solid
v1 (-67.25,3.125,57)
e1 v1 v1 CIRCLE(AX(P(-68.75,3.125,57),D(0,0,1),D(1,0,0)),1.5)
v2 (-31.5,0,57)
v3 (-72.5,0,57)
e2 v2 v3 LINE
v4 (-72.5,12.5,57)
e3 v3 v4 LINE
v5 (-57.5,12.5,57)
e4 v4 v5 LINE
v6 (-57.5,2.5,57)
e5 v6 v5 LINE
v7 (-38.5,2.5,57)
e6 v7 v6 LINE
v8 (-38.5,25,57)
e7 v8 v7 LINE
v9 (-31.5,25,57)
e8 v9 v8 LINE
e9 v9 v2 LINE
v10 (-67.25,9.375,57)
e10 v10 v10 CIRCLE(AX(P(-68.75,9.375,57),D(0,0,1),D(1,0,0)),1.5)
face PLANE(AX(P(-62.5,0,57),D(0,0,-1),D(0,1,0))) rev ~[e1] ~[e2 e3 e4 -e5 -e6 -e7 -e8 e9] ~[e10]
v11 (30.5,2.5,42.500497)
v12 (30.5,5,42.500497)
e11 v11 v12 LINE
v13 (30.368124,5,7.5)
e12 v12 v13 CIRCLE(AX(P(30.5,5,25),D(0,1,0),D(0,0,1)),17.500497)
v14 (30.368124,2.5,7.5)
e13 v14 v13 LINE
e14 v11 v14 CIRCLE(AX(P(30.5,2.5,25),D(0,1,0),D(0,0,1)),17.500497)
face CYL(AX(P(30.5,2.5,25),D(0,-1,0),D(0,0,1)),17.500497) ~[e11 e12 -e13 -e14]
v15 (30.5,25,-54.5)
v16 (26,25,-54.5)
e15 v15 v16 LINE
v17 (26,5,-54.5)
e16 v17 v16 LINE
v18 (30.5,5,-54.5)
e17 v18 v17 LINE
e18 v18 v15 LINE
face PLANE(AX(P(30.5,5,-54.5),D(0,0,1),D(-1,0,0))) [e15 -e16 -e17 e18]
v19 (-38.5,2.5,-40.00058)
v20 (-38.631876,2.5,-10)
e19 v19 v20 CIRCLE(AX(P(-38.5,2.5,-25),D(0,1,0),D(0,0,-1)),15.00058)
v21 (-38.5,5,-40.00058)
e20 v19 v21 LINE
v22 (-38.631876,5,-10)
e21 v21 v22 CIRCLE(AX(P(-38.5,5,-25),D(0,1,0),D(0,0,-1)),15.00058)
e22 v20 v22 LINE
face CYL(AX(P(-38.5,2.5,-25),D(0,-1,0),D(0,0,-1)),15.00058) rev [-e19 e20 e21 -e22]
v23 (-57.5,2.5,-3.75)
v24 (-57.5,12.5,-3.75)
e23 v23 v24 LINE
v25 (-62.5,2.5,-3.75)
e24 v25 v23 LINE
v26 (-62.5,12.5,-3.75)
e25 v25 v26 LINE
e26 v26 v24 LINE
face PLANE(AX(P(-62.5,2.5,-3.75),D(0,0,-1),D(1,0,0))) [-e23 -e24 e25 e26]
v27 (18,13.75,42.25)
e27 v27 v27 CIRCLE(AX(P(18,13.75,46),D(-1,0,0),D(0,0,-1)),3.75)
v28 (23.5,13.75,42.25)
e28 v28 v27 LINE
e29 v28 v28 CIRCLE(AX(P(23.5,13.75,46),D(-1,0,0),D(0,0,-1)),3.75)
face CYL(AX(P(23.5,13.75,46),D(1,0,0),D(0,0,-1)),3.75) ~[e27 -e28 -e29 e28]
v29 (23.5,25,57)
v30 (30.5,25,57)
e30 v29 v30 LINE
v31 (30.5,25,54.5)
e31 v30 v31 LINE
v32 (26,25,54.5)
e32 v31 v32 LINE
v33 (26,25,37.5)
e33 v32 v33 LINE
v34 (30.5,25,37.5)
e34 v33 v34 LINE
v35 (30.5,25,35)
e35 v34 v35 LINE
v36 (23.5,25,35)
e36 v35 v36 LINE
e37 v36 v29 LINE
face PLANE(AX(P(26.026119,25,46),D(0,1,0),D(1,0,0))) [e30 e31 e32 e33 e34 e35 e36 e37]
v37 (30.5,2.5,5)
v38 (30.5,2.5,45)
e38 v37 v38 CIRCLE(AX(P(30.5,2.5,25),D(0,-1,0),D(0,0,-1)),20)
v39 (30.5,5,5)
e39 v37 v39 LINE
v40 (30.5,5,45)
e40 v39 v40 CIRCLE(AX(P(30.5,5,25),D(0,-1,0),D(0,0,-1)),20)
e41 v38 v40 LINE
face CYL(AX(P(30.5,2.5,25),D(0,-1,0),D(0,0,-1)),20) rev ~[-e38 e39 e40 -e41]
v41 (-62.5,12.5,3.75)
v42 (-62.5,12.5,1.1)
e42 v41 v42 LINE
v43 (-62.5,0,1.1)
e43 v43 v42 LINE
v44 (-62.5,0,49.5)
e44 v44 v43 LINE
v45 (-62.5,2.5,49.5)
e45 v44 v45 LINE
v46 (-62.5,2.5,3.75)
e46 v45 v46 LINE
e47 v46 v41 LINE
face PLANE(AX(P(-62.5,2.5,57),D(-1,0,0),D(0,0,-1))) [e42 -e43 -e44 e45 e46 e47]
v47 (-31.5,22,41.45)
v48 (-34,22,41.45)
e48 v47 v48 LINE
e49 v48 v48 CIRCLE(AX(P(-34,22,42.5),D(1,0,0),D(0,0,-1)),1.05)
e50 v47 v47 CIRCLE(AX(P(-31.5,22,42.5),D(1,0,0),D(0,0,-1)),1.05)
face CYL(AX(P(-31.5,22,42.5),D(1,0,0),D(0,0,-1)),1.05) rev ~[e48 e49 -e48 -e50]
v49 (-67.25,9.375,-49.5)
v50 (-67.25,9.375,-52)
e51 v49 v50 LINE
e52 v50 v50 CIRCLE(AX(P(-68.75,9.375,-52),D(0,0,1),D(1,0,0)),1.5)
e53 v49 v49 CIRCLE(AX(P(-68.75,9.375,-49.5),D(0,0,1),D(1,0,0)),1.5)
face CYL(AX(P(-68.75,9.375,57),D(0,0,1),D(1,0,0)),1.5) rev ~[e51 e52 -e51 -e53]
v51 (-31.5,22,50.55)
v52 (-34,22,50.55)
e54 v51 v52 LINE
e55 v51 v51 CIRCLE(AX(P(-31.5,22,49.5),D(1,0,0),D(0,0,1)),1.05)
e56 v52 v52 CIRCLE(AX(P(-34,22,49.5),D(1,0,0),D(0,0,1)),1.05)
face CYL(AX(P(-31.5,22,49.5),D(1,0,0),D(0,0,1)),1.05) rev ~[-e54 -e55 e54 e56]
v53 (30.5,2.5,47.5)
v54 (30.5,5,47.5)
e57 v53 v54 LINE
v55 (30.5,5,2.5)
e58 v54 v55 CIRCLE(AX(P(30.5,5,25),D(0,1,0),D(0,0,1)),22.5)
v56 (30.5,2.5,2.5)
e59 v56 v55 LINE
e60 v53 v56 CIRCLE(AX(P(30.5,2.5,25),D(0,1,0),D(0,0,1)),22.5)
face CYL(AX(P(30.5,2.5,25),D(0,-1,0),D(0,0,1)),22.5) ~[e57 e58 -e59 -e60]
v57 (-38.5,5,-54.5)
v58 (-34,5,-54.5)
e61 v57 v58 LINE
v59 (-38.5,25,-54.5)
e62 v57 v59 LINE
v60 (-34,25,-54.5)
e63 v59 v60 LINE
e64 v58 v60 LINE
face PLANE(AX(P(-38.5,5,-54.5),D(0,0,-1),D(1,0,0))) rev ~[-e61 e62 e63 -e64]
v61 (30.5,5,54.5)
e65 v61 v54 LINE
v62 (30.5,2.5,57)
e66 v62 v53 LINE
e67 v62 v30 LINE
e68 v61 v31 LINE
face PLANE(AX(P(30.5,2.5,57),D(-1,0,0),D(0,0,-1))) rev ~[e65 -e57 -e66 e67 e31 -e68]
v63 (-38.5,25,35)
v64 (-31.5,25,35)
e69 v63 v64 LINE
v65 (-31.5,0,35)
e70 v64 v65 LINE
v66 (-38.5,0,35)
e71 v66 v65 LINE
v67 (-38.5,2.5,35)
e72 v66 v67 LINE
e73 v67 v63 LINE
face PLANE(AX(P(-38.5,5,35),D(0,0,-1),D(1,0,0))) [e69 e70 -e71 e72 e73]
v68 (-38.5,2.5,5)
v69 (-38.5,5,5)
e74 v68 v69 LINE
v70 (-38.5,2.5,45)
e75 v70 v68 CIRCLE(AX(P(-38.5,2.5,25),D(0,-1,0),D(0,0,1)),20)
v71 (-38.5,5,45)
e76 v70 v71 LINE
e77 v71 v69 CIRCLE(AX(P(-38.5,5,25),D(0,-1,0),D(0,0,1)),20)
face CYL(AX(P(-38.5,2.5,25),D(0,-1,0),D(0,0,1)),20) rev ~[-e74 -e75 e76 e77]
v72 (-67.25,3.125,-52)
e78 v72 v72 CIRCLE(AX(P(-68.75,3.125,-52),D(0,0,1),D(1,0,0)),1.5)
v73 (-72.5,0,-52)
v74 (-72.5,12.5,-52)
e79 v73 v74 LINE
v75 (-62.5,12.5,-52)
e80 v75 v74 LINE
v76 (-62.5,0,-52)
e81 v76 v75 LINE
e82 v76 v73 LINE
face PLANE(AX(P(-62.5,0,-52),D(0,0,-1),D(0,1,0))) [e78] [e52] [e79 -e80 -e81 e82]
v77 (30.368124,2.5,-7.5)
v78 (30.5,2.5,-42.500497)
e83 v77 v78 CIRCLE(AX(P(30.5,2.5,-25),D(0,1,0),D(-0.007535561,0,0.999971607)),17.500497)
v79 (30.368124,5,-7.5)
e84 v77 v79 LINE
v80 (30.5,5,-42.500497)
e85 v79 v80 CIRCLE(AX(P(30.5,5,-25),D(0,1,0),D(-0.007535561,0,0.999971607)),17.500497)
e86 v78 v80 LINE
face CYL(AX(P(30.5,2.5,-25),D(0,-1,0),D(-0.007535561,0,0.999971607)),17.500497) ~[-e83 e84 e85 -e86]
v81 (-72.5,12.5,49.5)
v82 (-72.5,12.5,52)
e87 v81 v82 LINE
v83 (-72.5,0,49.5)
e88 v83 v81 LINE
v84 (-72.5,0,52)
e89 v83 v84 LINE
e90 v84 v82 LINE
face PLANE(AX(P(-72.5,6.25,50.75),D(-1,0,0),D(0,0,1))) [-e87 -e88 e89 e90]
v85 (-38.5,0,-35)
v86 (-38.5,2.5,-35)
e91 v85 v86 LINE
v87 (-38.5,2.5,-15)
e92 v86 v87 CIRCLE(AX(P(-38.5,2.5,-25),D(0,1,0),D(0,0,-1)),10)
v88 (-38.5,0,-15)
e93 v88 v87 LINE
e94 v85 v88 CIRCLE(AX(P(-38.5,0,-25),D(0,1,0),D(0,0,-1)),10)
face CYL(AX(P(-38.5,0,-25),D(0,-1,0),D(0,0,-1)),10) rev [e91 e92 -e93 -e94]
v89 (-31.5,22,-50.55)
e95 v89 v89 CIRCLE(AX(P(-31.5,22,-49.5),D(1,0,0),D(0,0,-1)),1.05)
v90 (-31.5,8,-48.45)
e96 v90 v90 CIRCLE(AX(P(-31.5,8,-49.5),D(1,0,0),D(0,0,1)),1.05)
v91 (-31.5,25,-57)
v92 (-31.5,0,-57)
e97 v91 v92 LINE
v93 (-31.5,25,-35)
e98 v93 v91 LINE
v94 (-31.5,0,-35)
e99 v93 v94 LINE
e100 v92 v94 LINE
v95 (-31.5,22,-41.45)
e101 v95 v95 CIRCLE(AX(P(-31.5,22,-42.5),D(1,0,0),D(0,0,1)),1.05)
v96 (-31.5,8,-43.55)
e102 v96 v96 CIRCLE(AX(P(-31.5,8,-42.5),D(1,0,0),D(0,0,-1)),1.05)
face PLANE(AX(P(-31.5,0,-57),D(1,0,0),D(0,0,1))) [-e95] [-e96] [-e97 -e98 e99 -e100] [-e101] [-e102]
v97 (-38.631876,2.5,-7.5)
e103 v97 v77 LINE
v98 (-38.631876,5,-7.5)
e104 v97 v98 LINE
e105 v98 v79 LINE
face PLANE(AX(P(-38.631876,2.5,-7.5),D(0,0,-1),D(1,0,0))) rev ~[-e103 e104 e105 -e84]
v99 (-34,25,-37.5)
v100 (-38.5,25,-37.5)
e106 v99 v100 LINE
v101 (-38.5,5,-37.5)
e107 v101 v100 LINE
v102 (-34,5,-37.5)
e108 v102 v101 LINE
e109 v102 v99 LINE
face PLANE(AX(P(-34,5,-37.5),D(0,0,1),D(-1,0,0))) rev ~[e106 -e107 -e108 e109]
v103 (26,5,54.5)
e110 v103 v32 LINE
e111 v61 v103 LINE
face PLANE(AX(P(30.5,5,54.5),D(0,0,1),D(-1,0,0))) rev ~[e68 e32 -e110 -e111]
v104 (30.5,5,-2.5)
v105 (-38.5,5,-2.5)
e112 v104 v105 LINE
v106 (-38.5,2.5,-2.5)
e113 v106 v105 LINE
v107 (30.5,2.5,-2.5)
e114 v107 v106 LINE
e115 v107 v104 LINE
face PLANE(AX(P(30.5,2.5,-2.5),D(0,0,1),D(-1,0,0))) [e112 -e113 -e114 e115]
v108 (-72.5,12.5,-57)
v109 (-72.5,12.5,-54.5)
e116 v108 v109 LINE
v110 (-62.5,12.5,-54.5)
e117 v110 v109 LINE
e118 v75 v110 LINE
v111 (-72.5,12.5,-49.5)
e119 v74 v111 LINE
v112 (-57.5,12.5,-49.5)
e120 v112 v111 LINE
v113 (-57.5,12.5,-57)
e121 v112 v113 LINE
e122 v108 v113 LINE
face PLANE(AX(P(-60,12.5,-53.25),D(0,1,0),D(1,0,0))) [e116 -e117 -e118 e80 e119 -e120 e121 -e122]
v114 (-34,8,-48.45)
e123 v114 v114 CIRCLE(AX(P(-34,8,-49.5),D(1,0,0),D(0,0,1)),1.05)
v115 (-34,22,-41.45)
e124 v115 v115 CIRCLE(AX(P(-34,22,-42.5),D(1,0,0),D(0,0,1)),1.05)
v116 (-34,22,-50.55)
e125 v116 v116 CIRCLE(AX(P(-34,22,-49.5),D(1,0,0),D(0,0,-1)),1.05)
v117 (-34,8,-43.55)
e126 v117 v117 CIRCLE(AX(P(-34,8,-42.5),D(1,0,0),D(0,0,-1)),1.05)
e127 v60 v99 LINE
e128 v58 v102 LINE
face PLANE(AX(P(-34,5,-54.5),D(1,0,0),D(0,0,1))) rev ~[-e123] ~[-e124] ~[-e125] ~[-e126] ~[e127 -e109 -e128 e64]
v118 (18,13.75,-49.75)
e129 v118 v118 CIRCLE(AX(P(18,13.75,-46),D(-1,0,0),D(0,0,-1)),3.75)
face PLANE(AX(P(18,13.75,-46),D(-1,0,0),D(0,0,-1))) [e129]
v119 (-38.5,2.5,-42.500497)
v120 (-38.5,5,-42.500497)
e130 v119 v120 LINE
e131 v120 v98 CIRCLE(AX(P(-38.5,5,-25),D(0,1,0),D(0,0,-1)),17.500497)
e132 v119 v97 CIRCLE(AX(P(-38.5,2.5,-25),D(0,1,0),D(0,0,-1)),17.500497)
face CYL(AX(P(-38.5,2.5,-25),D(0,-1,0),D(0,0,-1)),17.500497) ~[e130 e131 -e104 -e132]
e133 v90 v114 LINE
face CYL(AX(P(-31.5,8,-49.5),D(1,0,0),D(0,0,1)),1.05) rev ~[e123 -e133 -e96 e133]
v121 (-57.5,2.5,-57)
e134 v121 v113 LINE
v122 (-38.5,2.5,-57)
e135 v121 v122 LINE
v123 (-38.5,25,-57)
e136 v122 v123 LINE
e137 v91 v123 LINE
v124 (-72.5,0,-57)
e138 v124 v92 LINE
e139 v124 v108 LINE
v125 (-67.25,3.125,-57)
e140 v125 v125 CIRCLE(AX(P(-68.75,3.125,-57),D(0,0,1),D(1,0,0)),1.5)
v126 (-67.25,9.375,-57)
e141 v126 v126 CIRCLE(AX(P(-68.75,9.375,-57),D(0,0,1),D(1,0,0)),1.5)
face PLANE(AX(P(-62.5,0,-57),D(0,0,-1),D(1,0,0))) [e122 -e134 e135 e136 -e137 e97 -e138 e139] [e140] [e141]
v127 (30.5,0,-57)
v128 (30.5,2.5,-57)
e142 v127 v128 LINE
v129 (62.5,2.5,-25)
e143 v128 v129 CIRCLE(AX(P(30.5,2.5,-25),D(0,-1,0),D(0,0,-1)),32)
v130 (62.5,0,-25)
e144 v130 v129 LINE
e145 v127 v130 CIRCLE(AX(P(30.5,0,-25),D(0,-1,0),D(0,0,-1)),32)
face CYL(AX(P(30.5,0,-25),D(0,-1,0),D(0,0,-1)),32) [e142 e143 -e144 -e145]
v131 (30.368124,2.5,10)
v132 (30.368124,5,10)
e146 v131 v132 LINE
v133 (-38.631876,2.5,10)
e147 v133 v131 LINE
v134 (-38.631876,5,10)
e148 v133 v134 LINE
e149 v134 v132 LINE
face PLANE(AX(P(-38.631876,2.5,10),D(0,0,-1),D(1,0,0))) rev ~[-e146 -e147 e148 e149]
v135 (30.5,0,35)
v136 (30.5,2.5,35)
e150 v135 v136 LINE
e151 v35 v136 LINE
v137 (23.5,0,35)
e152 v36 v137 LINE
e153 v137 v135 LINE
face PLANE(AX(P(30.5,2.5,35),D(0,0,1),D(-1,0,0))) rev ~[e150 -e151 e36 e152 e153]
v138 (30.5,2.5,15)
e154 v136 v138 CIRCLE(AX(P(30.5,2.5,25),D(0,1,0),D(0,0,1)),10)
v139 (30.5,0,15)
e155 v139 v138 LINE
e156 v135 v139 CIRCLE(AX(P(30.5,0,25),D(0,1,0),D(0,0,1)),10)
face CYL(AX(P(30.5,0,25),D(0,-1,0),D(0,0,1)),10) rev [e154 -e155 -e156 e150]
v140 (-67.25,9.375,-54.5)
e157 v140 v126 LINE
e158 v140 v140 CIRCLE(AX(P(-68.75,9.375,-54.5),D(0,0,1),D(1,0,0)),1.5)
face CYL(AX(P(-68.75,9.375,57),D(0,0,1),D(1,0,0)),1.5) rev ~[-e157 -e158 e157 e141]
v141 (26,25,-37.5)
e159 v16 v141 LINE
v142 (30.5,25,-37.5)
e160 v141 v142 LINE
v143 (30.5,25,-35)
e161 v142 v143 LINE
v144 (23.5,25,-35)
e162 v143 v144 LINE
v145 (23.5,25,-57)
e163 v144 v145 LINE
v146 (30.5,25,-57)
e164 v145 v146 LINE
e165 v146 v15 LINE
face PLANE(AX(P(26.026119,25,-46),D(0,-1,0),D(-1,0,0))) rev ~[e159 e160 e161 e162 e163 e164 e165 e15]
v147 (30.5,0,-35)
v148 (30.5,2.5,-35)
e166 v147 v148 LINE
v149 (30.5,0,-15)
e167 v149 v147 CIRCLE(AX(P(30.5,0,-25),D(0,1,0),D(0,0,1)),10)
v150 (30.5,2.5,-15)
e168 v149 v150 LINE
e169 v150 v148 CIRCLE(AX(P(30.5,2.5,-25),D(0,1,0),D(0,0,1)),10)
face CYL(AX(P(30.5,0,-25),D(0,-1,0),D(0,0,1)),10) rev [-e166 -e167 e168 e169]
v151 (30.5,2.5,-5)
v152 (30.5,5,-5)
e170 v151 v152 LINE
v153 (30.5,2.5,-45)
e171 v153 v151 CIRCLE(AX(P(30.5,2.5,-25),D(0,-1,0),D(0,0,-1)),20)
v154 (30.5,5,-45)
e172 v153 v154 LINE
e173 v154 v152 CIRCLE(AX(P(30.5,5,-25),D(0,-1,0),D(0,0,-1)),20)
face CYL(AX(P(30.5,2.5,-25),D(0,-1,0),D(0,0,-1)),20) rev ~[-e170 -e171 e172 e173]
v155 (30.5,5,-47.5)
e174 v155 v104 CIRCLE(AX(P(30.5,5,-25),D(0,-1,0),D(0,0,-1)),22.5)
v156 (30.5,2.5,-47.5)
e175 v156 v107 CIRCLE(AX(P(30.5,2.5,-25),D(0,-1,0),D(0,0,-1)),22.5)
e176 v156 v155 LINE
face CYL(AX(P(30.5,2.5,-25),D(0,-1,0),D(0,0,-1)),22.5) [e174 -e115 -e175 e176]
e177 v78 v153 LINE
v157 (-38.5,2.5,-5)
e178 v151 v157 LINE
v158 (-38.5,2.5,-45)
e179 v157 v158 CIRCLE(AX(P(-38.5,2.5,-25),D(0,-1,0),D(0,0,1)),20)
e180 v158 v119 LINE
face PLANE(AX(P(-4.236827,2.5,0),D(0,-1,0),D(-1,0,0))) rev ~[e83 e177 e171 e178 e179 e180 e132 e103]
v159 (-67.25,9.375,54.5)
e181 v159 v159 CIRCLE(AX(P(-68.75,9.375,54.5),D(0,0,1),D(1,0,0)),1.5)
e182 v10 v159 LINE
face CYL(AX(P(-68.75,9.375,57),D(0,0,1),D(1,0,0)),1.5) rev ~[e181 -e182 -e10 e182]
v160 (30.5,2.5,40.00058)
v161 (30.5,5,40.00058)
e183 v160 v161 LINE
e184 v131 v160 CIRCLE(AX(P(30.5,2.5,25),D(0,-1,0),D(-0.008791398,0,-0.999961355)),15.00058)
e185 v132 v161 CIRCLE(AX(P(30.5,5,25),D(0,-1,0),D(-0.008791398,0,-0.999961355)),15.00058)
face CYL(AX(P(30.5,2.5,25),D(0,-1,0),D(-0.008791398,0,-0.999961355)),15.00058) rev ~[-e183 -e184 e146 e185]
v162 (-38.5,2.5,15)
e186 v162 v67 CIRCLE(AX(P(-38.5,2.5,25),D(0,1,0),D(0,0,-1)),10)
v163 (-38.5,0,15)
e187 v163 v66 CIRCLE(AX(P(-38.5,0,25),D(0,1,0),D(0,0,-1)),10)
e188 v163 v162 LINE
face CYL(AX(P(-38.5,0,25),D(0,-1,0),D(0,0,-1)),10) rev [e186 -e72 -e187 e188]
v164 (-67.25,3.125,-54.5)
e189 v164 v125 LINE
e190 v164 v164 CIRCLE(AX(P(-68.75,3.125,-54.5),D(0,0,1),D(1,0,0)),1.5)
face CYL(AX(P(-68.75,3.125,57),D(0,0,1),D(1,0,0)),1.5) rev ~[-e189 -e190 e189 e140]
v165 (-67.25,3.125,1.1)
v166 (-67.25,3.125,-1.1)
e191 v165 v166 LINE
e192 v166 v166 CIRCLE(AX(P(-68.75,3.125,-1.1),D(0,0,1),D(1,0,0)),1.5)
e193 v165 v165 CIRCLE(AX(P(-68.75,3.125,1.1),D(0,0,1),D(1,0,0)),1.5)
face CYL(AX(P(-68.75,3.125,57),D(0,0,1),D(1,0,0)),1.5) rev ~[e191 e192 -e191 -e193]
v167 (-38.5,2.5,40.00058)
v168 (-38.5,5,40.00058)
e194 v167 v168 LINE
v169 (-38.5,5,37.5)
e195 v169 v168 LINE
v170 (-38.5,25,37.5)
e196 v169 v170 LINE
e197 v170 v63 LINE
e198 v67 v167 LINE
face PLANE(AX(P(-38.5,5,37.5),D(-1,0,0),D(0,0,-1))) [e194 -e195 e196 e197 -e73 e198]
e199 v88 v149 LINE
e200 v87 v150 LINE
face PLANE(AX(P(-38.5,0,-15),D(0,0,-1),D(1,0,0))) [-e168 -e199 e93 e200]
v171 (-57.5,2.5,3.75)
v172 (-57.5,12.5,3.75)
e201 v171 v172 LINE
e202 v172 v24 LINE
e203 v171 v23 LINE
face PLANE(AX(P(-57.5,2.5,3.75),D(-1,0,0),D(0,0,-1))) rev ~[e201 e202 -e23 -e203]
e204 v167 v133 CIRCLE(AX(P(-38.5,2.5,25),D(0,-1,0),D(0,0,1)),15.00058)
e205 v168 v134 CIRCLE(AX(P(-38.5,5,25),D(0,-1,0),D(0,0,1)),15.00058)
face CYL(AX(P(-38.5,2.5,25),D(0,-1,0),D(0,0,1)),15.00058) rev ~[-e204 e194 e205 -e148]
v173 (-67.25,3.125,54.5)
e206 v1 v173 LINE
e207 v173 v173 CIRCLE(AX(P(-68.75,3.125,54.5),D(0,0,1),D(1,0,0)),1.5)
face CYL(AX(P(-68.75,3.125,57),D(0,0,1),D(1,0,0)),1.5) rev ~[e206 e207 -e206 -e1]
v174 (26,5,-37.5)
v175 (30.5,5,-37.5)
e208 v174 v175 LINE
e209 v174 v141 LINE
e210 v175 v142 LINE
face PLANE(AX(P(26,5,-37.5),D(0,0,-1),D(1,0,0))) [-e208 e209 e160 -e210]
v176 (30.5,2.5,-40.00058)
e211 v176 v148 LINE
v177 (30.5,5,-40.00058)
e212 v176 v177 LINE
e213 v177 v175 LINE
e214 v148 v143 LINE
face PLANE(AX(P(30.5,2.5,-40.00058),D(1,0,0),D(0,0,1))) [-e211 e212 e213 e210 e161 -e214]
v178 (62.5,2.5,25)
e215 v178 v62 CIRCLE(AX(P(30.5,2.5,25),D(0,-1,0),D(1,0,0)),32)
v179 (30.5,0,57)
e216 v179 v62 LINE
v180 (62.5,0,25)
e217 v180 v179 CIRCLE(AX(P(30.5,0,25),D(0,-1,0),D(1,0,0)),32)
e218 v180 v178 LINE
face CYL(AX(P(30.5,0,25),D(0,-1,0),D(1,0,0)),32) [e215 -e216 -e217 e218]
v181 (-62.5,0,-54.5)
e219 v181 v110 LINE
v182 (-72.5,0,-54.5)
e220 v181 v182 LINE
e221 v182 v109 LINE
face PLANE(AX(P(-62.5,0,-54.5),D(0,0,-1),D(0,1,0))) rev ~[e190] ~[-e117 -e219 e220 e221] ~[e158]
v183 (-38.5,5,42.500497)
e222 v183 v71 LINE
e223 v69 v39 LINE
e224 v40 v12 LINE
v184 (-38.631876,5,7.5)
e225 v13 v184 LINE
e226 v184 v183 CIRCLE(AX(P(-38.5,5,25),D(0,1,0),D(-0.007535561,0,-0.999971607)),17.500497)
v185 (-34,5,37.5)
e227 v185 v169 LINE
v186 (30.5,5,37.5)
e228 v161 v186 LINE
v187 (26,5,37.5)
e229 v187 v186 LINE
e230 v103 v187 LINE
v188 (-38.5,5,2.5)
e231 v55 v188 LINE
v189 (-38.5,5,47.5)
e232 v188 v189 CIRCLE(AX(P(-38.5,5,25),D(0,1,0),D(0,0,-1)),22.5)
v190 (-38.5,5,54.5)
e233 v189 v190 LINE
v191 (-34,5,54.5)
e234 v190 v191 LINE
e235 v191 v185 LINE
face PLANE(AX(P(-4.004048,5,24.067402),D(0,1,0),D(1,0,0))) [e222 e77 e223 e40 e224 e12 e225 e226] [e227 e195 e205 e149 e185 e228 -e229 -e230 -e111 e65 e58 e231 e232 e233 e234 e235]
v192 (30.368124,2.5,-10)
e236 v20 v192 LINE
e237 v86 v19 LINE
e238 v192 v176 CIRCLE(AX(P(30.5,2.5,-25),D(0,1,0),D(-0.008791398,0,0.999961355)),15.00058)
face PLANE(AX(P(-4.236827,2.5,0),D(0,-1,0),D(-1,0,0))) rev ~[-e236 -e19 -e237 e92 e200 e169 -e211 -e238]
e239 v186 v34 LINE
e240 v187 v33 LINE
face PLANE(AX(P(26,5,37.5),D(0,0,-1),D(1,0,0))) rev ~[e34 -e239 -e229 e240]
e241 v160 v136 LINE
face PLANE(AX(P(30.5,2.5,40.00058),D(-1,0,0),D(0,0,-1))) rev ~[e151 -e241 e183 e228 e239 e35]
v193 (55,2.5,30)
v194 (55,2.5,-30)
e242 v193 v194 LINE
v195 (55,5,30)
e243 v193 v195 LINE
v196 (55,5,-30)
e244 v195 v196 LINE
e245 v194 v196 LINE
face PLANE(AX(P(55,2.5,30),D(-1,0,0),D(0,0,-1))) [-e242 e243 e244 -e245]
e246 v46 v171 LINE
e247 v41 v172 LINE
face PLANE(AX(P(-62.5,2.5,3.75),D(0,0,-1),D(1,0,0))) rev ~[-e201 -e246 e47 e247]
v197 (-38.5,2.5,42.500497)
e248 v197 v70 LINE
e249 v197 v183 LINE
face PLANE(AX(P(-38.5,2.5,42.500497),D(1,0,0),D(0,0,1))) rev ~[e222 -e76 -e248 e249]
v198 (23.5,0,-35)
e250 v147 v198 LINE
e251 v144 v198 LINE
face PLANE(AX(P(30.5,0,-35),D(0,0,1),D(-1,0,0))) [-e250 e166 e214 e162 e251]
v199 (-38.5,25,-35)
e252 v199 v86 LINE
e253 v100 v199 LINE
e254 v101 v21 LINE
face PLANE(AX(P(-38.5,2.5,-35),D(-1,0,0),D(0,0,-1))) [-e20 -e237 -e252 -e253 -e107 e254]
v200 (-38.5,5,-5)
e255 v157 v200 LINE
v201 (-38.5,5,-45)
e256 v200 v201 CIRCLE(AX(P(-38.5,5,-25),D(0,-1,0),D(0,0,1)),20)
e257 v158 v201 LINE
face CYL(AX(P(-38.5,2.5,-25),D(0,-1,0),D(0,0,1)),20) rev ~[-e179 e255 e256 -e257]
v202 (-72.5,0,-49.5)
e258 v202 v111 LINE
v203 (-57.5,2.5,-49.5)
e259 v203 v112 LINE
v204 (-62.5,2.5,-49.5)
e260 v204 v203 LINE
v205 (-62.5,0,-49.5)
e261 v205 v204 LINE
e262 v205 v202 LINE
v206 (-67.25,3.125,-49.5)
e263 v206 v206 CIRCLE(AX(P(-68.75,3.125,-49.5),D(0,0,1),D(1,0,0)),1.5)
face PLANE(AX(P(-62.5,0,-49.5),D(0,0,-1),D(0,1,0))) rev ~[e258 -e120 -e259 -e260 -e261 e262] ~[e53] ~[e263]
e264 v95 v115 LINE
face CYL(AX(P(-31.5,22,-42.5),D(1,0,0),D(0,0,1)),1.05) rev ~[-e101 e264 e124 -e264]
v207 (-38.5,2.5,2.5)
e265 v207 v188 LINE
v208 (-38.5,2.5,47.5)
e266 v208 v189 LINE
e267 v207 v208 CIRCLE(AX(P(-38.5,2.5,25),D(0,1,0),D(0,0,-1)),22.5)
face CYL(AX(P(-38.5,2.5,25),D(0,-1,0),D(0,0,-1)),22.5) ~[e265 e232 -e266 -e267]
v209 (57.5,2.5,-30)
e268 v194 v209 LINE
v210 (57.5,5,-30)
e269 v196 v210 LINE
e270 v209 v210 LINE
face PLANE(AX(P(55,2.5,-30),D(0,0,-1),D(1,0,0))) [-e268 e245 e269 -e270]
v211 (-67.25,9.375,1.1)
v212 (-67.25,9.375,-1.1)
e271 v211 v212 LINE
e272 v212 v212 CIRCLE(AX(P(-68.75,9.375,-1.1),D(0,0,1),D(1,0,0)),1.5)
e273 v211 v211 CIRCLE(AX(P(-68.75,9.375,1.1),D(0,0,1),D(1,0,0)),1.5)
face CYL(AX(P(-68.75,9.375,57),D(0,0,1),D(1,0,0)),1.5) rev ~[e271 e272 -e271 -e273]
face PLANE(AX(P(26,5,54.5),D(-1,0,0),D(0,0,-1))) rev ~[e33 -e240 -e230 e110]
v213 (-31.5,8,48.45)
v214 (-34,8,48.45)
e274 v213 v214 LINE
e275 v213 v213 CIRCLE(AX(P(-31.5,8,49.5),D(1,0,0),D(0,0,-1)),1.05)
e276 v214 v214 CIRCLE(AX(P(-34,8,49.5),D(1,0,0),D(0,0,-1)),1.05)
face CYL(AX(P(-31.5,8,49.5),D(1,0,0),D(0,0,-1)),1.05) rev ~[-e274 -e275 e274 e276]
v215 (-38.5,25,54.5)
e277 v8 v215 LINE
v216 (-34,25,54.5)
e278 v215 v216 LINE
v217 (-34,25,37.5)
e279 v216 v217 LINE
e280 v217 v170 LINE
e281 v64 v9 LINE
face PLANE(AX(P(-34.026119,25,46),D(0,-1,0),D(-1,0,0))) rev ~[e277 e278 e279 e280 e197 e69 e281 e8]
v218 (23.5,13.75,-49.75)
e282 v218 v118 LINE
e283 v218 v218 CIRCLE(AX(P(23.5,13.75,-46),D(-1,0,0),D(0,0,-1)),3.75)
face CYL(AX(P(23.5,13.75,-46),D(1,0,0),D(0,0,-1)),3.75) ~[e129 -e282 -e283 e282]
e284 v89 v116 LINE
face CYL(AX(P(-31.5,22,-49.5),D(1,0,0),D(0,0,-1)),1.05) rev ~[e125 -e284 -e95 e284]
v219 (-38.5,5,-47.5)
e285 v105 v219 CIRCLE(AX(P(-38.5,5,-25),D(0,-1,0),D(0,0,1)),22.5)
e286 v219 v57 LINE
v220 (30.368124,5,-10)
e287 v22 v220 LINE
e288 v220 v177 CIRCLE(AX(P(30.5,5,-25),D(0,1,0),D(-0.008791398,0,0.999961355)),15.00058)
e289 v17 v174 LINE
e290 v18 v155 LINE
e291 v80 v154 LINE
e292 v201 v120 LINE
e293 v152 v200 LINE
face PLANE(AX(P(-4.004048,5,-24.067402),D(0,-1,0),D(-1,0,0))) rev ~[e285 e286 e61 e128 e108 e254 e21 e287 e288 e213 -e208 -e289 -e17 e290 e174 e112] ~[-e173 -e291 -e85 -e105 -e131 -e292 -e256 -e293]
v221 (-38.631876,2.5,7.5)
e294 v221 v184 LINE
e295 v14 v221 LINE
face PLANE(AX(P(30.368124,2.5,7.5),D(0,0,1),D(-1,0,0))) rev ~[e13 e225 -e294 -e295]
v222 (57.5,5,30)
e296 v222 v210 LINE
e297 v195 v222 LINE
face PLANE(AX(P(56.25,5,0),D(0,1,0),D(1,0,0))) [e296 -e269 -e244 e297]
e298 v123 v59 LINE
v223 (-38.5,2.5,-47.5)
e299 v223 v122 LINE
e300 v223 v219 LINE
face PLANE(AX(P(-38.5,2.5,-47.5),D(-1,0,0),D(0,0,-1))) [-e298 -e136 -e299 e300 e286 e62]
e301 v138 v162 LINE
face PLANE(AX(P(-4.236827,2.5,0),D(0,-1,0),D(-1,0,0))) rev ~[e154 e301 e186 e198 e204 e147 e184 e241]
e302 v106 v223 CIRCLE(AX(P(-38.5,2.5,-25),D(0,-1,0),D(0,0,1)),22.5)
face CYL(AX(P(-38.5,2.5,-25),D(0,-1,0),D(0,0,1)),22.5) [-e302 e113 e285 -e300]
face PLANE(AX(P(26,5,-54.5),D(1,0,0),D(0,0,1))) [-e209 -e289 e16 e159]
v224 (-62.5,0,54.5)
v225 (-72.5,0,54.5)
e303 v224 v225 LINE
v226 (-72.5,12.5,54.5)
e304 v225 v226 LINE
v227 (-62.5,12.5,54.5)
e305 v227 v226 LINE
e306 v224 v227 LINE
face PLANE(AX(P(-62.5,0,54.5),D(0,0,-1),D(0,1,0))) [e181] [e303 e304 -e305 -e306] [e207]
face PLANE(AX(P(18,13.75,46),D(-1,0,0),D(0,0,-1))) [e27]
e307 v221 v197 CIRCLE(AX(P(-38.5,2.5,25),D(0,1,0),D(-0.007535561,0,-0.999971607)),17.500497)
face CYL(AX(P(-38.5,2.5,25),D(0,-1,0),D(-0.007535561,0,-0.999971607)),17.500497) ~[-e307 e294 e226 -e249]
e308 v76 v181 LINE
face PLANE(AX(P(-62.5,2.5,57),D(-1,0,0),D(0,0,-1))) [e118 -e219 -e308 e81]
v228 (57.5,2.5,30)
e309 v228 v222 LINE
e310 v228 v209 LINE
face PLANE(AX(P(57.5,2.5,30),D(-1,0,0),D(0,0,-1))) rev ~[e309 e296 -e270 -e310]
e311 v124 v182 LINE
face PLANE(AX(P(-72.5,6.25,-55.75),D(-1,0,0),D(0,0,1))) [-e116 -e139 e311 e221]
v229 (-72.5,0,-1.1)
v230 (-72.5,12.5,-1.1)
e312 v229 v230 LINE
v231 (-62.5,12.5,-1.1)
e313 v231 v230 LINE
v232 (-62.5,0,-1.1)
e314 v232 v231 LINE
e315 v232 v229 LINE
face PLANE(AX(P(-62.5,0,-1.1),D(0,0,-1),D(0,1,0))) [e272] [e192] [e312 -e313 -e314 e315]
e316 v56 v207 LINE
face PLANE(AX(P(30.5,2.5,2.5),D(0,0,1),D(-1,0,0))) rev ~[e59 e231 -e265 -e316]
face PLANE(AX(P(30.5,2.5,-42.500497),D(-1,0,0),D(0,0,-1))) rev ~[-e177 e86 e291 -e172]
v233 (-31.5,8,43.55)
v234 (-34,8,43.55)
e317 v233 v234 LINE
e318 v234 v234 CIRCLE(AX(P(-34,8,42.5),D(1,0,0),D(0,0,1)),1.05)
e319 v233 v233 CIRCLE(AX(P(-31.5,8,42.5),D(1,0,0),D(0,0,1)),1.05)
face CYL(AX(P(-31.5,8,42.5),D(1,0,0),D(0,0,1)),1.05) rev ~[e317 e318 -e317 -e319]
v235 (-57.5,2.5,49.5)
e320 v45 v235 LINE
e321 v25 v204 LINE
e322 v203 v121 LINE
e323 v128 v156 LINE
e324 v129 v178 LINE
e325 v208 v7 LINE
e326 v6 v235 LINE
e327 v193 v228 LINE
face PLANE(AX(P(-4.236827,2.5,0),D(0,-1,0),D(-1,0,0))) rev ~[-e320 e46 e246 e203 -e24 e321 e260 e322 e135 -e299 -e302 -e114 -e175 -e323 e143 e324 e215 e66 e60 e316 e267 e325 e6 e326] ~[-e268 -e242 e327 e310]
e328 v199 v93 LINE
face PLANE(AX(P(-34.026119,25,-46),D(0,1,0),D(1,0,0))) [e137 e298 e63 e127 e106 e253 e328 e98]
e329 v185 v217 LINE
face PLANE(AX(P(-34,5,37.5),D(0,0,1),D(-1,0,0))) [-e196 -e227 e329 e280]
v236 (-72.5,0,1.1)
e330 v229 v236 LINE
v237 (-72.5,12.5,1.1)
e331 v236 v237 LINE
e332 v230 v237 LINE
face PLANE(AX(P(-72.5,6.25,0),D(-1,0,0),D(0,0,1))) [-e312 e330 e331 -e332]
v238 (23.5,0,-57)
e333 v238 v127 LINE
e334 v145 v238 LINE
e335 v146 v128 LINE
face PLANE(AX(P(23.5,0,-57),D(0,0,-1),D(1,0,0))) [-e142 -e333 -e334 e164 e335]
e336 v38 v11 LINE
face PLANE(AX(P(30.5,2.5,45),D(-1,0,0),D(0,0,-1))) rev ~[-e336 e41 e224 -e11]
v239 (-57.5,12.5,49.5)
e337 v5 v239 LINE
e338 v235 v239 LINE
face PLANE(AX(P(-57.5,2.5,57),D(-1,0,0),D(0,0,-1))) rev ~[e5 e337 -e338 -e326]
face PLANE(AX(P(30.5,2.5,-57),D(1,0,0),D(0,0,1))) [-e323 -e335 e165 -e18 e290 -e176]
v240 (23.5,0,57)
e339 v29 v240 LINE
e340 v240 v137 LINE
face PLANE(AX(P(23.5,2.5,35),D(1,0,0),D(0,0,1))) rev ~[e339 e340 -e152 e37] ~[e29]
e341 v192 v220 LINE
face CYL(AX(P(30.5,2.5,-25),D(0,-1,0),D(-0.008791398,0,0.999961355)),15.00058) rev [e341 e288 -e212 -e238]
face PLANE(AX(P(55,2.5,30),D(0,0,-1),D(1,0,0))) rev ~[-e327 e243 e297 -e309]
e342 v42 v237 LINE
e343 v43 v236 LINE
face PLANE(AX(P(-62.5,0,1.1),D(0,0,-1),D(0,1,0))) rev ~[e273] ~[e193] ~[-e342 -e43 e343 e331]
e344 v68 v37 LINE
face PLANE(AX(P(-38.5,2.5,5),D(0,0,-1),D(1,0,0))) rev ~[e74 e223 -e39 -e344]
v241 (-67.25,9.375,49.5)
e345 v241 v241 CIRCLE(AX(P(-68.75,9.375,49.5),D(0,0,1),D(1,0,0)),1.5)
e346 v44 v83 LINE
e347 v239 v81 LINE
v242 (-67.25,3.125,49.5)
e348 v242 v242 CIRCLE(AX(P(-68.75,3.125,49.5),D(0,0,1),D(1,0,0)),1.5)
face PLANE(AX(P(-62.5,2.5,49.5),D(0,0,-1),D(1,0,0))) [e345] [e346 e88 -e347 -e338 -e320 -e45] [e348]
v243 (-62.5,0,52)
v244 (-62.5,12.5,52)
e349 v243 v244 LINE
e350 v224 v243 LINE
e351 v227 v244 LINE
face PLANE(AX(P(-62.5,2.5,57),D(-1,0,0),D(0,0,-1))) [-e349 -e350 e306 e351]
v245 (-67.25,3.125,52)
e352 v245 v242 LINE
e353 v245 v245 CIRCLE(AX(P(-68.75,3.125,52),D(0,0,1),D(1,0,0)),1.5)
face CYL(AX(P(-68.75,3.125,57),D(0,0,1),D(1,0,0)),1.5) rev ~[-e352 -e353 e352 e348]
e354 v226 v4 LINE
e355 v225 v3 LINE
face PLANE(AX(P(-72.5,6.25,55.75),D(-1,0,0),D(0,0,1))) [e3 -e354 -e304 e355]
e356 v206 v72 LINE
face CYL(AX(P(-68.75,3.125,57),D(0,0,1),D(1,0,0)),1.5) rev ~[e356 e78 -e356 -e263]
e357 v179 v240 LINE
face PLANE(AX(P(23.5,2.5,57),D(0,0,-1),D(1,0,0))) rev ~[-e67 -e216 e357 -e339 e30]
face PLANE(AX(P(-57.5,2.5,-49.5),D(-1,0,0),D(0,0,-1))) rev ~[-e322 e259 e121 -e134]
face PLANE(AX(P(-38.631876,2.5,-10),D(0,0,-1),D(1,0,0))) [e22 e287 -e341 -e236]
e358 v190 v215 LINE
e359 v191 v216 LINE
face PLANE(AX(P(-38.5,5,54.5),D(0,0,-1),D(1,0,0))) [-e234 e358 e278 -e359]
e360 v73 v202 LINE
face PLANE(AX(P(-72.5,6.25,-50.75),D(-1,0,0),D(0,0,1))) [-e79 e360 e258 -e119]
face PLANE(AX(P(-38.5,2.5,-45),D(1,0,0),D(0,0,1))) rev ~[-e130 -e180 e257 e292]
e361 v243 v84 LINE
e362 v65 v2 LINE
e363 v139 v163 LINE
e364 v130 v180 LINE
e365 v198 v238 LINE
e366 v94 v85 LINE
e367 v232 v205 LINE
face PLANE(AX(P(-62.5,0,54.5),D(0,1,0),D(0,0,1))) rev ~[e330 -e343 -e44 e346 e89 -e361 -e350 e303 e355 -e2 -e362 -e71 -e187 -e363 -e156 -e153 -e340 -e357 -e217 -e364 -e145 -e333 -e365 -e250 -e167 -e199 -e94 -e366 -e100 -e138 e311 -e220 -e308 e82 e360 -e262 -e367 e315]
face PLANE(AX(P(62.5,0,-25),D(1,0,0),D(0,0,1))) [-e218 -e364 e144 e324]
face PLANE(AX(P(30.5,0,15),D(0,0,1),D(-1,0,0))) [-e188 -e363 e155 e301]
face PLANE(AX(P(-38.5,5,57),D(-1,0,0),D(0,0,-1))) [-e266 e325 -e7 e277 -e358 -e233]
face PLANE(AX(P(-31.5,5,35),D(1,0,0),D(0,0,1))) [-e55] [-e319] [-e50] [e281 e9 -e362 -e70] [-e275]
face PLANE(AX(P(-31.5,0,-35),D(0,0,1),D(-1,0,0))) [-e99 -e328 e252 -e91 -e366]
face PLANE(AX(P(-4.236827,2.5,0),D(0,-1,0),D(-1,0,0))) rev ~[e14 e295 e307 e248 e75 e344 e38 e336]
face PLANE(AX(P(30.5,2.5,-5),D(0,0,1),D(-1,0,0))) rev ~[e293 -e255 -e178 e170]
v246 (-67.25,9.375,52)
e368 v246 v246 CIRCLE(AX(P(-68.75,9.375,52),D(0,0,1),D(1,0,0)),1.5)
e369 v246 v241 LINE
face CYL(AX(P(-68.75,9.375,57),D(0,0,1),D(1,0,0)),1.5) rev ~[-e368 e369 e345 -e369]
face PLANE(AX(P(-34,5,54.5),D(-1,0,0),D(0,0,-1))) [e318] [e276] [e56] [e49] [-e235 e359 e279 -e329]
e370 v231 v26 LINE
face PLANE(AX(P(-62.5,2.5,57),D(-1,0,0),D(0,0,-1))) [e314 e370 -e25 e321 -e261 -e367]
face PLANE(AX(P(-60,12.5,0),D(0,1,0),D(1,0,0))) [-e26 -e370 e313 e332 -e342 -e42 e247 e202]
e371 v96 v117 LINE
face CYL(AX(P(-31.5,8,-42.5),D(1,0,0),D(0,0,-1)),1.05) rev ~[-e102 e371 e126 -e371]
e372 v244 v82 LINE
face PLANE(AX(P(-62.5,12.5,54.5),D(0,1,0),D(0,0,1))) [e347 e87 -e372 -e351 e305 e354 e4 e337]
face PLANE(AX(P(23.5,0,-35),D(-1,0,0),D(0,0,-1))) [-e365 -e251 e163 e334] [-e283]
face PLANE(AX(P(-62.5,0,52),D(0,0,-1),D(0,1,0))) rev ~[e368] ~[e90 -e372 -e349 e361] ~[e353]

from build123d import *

# Parameters (mm, degrees)
BOSS_EXTRUDE1_DEPTH = 2.5
SKETCH3_W           = 2.5
SKETCH3_H           = 60
BOSS_EXTRUDE4_DEPTH = 2.5
BOSS_EXTRUDE5_DEPTH = 20
SKETCH7_R           = 3.75
BOSS_EXTRUDE6_DEPTH = 5.5
SKETCH9_R           = 3.75
BOSS_EXTRUDE7_DEPTH = 5.5
SKETCH10_R          = 1.05
CUT_EXTRUDE1_DEPTH  = 2.5
SKETCH12_R          = 1.05
CUT_EXTRUDE2_DEPTH  = 2.5
SKETCH14_W          = 5
SKETCH14_H          = 7.5
BOSS_EXTRUDE8_DEPTH = 10
SKETCH15_W          = 2.2
SKETCH15_H          = 12.5
SKETCH15_W_2        = 2.5
BOSS_EXTRUDE9_DEPTH = 10
SKETCH16_R          = 1.5
CUT_EXTRUDE3_DEPTH  = 114


with BuildPart() as part:
    # Sketch2 → Boss-Extrude1 (new body)
    with BuildSketch(Plane(origin=(0, 0, 0), x_dir=(1, 0, 0), z_dir=(0, 1, 0))):
        with BuildLine():
            Line((62.5, 25), (62.5, -25))
            ThreePointArc((62.5, -25), (53.127416998, -47.627416998), (30.5, -57))
            Line((30.5, -57), (23.5, -57))
            Line((23.5, -57), (23.5, -35))
            Line((23.5, -35), (30.5, -35))
            ThreePointArc((30.5, -35), (40.5, -25), (30.5, -15))
            Line((30.5, -15), (-38.5, -15))
            ThreePointArc((-38.5, -15), (-48.5, -25), (-38.5, -35))
            Line((-38.5, -35), (-31.5, -35))
            Line((-31.5, -35), (-31.5, -57))
            Line((-31.5, -57), (-38.5, -57))
            Line((-38.5, -57), (-62.5, -57))
            Line((-62.5, -57), (-62.5, 57))
            Line((-62.5, 57), (-38.5, 57))
            Line((-38.5, 57), (-31.5, 57))
            Line((-31.5, 57), (-31.5, 35))
            Line((-31.5, 35), (-38.5, 35))
            ThreePointArc((-38.5, 35), (-48.5, 25), (-38.5, 15))
            Line((-38.5, 15), (30.5, 15))
            ThreePointArc((30.5, 15), (40.5, 25), (30.5, 35))
            Line((30.5, 35), (23.5, 35))
            Line((23.5, 35), (23.5, 57))
            Line((23.5, 57), (30.5, 57))
            ThreePointArc((30.5, 57), (53.127416998, 47.627416998), (62.5, 25))
        make_face()
    extrude(amount=BOSS_EXTRUDE1_DEPTH)

    # Sketch3 → Boss-Extrude4 (add)
    # profile 1 of 3: a face of its own
    with BuildSketch(Plane(origin=(0, 2.5, 0), x_dir=(1, 0, 0), z_dir=(0, 1, 0))):
        with BuildLine():
            Line((30.5, -40.000579699), (30.5, -35))
            Line((30.5, -35), (23.5, -35))
            Line((23.5, -35), (23.5, -57))
            Line((23.5, -57), (30.5, -57))
            Line((30.5, -57), (30.5, -47.5))
            ThreePointArc((30.5, -47.5), (53, -25), (30.5, -2.5))
            Line((30.5, -2.5), (-38.5, -2.5))
            ThreePointArc((-38.5, -2.5), (-61, -25), (-38.5, -47.5))
            Line((-38.5, -47.5), (-38.5, -57))
            Line((-38.5, -57), (-31.5, -57))
            Line((-31.5, -57), (-31.5, -35))
            Line((-31.5, -35), (-38.5, -35))
            Line((-38.5, -35), (-38.5, -40.000579699))
            ThreePointArc((-38.5, -40.000579699), (-53.500434773, -25.065938667), (-38.631876061, -10))
            Line((-38.631876061, -10), (30.368123939, -10))
            ThreePointArc((30.368123939, -10), (45.500434773, -24.934061333), (30.5, -40.000579699))
        make_face()
        with BuildLine():
            Line((30.368123939, -7.5), (-38.631876061, -7.5))
            ThreePointArc((-38.631876061, -7.5), (-56.000372665, -25.065938498), (-38.5, -42.500496887))
            Line((-38.5, -42.500496887), (-38.5, -45))
            ThreePointArc((-38.5, -45), (-58.5, -25), (-38.5, -5))
            Line((-38.5, -5), (30.5, -5))
            ThreePointArc((30.5, -5), (50.5, -25), (30.5, -45))
            Line((30.5, -45), (30.5, -42.500496887))
            ThreePointArc((30.5, -42.500496887), (48.000372665, -24.934061502), (30.368123939, -7.5))
        make_face(mode=Mode.SUBTRACT)
    # profile 2 of 3: a face of its own
    with BuildSketch(Plane(origin=(0, 2.5, 0), x_dir=(1, 0, 0), z_dir=(0, 1, 0))):
        with BuildLine():
            Line((30.5, 57), (30.5, 47.5))
            ThreePointArc((30.5, 47.5), (53, 25), (30.5, 2.5))
            Line((30.5, 2.5), (-38.5, 2.5))
            ThreePointArc((-38.5, 2.5), (-61, 25), (-38.5, 47.5))
            Line((-38.5, 47.5), (-38.5, 57))
            Line((-38.5, 57), (-31.5, 57))
            Line((-31.5, 57), (-31.5, 35))
            Line((-31.5, 35), (-38.5, 35))
            Line((-38.5, 35), (-38.5, 40.000579699))
            ThreePointArc((-38.5, 40.000579699), (-53.500434773, 25.065938667), (-38.631876061, 10))
            Line((-38.631876061, 10), (30.368123939, 10))
            ThreePointArc((30.368123939, 10), (45.500434773, 24.934061333), (30.5, 40.000579699))
            Line((30.5, 40.000579699), (30.5, 35))
            Line((30.5, 35), (23.5, 35))
            Line((23.5, 35), (23.5, 57))
            Line((23.5, 57), (30.5, 57))
        make_face()
        with BuildLine():
            Line((30.5, 42.500496887), (30.5, 45))
            ThreePointArc((30.5, 45), (50.5, 25), (30.5, 5))
            Line((30.5, 5), (-38.5, 5))
            ThreePointArc((-38.5, 5), (-58.5, 25), (-38.5, 45))
            Line((-38.5, 45), (-38.5, 42.500496887))
            ThreePointArc((-38.5, 42.500496887), (-56.000372665, 25.065938498), (-38.631876061, 7.5))
            Line((-38.631876061, 7.5), (30.368123939, 7.5))
            ThreePointArc((30.368123939, 7.5), (48.000372665, 24.934061502), (30.5, 42.500496887))
        make_face(mode=Mode.SUBTRACT)
    # profile 3 of 3: a face of its own
    with BuildSketch(Plane(origin=(0, 2.5, 0), x_dir=(1, 0, 0), z_dir=(0, 1, 0))):
        with Locations((56.25, 0)):
            Rectangle(SKETCH3_W, SKETCH3_H)
    extrude(amount=BOSS_EXTRUDE4_DEPTH)

    # Sketch6 → Boss-Extrude5 (add)
    with BuildSketch(Plane(origin=(0, 5, 0), x_dir=(1, 0, 0), z_dir=(0, 1, 0))):
        Polygon((-38.5, -35), (-31.5, -35), (-31.5, -57), (-38.5, -57), (-38.5, -54.5), (-34, -54.5), (-34, -37.5), (-38.5, -37.5), align=None)
        Polygon((30.5, -35), (23.5, -35), (23.5, -57), (30.5, -57), (30.5, -54.5), (26, -54.5), (26, -37.5), (30.5, -37.5), align=None)
        Polygon((30.5, 37.5), (30.5, 35), (23.5, 35), (23.5, 57), (30.5, 57), (30.5, 54.5), (26, 54.5), (26, 37.5), align=None)
        Polygon((-38.5, 37.5), (-38.5, 35), (-31.5, 35), (-31.5, 57), (-38.5, 57), (-38.5, 54.5), (-34, 54.5), (-34, 37.5), align=None)
    extrude(amount=BOSS_EXTRUDE5_DEPTH)

    # Sketch7 → Boss-Extrude6 (add)
    with BuildSketch(Plane.ZY.offset(-23.5)):
        with Locations(Location((46, 13.75, 0), (0, 0, 180))):
            Circle(SKETCH7_R)
    extrude(amount=BOSS_EXTRUDE6_DEPTH)

    # Sketch9 → Boss-Extrude7 (add)
    with BuildSketch(Plane.ZY.offset(-23.5)):
        with Locations(Location((-46, 13.75, 0), (0, 0, 180))):
            Circle(SKETCH9_R)
    extrude(amount=BOSS_EXTRUDE7_DEPTH)

    # Sketch10 → Cut-Extrude1 (cut)
    with BuildSketch(Plane(origin=(-31.5, 0, 0), x_dir=(0, 0, -1), z_dir=(1, 0, 0))):
        with Locations((-42.5, 22)):
            Circle(SKETCH10_R)
        with Locations(Location((-49.5, 22, 0), (0, 0, 180))):
            Circle(SKETCH10_R)
        with Locations((-49.5, 8)):
            Circle(SKETCH10_R)
        with Locations(Location((-42.5, 8, 0), (0, 0, 180))):
            Circle(SKETCH10_R)
    extrude(amount=-CUT_EXTRUDE1_DEPTH, mode=Mode.SUBTRACT)

    # Sketch12 → Cut-Extrude2 (cut)
    with BuildSketch(Plane(origin=(-31.5, 0, 0), x_dir=(0, 0, -1), z_dir=(1, 0, 0))):
        with Locations((49.5, 22)):
            Circle(SKETCH12_R)
        with Locations(Location((42.5, 22, 0), (0, 0, 180))):
            Circle(SKETCH12_R)
        with Locations((42.5, 8)):
            Circle(SKETCH12_R)
        with Locations(Location((49.5, 8, 0), (0, 0, 180))):
            Circle(SKETCH12_R)
    extrude(amount=-CUT_EXTRUDE2_DEPTH, mode=Mode.SUBTRACT)

    # Sketch14 → Boss-Extrude8 (add)
    with BuildSketch(Plane(origin=(0, 2.5, 0), x_dir=(1, 0, 0), z_dir=(0, 1, 0))):
        with Locations((-60, 0)):
            Rectangle(SKETCH14_W, SKETCH14_H)
        with Locations((-60, -53.25)):
            Rectangle(SKETCH14_W, SKETCH14_H)
        with Locations((-60, 53.25)):
            Rectangle(SKETCH14_W, SKETCH14_H)
    extrude(amount=BOSS_EXTRUDE8_DEPTH)

    # Sketch15 → Boss-Extrude9 (add)
    with BuildSketch(Plane.ZY.offset(62.5)):
        with Locations((0, 6.25)):
            Rectangle(SKETCH15_W, SKETCH15_H)
        with Locations((55.75, 6.25)):
            Rectangle(SKETCH15_W_2, SKETCH15_H)
        with Locations((50.75, 6.25)):
            Rectangle(SKETCH15_W_2, SKETCH15_H)
        with Locations((-50.75, 6.25)):
            Rectangle(SKETCH15_W_2, SKETCH15_H)
        with Locations((-55.75, 6.25)):
            Rectangle(SKETCH15_W_2, SKETCH15_H)
    extrude(amount=BOSS_EXTRUDE9_DEPTH)

    # Sketch16 → Cut-Extrude3 (cut)
    with BuildSketch(Plane.XY.offset(57)):
        with Locations((-68.75, 9.375)):
            Circle(SKETCH16_R)
        with Locations((-68.75, 3.125)):
            Circle(SKETCH16_R)
    extrude(amount=-CUT_EXTRUDE3_DEPTH, mode=Mode.SUBTRACT)


solid = part.part
